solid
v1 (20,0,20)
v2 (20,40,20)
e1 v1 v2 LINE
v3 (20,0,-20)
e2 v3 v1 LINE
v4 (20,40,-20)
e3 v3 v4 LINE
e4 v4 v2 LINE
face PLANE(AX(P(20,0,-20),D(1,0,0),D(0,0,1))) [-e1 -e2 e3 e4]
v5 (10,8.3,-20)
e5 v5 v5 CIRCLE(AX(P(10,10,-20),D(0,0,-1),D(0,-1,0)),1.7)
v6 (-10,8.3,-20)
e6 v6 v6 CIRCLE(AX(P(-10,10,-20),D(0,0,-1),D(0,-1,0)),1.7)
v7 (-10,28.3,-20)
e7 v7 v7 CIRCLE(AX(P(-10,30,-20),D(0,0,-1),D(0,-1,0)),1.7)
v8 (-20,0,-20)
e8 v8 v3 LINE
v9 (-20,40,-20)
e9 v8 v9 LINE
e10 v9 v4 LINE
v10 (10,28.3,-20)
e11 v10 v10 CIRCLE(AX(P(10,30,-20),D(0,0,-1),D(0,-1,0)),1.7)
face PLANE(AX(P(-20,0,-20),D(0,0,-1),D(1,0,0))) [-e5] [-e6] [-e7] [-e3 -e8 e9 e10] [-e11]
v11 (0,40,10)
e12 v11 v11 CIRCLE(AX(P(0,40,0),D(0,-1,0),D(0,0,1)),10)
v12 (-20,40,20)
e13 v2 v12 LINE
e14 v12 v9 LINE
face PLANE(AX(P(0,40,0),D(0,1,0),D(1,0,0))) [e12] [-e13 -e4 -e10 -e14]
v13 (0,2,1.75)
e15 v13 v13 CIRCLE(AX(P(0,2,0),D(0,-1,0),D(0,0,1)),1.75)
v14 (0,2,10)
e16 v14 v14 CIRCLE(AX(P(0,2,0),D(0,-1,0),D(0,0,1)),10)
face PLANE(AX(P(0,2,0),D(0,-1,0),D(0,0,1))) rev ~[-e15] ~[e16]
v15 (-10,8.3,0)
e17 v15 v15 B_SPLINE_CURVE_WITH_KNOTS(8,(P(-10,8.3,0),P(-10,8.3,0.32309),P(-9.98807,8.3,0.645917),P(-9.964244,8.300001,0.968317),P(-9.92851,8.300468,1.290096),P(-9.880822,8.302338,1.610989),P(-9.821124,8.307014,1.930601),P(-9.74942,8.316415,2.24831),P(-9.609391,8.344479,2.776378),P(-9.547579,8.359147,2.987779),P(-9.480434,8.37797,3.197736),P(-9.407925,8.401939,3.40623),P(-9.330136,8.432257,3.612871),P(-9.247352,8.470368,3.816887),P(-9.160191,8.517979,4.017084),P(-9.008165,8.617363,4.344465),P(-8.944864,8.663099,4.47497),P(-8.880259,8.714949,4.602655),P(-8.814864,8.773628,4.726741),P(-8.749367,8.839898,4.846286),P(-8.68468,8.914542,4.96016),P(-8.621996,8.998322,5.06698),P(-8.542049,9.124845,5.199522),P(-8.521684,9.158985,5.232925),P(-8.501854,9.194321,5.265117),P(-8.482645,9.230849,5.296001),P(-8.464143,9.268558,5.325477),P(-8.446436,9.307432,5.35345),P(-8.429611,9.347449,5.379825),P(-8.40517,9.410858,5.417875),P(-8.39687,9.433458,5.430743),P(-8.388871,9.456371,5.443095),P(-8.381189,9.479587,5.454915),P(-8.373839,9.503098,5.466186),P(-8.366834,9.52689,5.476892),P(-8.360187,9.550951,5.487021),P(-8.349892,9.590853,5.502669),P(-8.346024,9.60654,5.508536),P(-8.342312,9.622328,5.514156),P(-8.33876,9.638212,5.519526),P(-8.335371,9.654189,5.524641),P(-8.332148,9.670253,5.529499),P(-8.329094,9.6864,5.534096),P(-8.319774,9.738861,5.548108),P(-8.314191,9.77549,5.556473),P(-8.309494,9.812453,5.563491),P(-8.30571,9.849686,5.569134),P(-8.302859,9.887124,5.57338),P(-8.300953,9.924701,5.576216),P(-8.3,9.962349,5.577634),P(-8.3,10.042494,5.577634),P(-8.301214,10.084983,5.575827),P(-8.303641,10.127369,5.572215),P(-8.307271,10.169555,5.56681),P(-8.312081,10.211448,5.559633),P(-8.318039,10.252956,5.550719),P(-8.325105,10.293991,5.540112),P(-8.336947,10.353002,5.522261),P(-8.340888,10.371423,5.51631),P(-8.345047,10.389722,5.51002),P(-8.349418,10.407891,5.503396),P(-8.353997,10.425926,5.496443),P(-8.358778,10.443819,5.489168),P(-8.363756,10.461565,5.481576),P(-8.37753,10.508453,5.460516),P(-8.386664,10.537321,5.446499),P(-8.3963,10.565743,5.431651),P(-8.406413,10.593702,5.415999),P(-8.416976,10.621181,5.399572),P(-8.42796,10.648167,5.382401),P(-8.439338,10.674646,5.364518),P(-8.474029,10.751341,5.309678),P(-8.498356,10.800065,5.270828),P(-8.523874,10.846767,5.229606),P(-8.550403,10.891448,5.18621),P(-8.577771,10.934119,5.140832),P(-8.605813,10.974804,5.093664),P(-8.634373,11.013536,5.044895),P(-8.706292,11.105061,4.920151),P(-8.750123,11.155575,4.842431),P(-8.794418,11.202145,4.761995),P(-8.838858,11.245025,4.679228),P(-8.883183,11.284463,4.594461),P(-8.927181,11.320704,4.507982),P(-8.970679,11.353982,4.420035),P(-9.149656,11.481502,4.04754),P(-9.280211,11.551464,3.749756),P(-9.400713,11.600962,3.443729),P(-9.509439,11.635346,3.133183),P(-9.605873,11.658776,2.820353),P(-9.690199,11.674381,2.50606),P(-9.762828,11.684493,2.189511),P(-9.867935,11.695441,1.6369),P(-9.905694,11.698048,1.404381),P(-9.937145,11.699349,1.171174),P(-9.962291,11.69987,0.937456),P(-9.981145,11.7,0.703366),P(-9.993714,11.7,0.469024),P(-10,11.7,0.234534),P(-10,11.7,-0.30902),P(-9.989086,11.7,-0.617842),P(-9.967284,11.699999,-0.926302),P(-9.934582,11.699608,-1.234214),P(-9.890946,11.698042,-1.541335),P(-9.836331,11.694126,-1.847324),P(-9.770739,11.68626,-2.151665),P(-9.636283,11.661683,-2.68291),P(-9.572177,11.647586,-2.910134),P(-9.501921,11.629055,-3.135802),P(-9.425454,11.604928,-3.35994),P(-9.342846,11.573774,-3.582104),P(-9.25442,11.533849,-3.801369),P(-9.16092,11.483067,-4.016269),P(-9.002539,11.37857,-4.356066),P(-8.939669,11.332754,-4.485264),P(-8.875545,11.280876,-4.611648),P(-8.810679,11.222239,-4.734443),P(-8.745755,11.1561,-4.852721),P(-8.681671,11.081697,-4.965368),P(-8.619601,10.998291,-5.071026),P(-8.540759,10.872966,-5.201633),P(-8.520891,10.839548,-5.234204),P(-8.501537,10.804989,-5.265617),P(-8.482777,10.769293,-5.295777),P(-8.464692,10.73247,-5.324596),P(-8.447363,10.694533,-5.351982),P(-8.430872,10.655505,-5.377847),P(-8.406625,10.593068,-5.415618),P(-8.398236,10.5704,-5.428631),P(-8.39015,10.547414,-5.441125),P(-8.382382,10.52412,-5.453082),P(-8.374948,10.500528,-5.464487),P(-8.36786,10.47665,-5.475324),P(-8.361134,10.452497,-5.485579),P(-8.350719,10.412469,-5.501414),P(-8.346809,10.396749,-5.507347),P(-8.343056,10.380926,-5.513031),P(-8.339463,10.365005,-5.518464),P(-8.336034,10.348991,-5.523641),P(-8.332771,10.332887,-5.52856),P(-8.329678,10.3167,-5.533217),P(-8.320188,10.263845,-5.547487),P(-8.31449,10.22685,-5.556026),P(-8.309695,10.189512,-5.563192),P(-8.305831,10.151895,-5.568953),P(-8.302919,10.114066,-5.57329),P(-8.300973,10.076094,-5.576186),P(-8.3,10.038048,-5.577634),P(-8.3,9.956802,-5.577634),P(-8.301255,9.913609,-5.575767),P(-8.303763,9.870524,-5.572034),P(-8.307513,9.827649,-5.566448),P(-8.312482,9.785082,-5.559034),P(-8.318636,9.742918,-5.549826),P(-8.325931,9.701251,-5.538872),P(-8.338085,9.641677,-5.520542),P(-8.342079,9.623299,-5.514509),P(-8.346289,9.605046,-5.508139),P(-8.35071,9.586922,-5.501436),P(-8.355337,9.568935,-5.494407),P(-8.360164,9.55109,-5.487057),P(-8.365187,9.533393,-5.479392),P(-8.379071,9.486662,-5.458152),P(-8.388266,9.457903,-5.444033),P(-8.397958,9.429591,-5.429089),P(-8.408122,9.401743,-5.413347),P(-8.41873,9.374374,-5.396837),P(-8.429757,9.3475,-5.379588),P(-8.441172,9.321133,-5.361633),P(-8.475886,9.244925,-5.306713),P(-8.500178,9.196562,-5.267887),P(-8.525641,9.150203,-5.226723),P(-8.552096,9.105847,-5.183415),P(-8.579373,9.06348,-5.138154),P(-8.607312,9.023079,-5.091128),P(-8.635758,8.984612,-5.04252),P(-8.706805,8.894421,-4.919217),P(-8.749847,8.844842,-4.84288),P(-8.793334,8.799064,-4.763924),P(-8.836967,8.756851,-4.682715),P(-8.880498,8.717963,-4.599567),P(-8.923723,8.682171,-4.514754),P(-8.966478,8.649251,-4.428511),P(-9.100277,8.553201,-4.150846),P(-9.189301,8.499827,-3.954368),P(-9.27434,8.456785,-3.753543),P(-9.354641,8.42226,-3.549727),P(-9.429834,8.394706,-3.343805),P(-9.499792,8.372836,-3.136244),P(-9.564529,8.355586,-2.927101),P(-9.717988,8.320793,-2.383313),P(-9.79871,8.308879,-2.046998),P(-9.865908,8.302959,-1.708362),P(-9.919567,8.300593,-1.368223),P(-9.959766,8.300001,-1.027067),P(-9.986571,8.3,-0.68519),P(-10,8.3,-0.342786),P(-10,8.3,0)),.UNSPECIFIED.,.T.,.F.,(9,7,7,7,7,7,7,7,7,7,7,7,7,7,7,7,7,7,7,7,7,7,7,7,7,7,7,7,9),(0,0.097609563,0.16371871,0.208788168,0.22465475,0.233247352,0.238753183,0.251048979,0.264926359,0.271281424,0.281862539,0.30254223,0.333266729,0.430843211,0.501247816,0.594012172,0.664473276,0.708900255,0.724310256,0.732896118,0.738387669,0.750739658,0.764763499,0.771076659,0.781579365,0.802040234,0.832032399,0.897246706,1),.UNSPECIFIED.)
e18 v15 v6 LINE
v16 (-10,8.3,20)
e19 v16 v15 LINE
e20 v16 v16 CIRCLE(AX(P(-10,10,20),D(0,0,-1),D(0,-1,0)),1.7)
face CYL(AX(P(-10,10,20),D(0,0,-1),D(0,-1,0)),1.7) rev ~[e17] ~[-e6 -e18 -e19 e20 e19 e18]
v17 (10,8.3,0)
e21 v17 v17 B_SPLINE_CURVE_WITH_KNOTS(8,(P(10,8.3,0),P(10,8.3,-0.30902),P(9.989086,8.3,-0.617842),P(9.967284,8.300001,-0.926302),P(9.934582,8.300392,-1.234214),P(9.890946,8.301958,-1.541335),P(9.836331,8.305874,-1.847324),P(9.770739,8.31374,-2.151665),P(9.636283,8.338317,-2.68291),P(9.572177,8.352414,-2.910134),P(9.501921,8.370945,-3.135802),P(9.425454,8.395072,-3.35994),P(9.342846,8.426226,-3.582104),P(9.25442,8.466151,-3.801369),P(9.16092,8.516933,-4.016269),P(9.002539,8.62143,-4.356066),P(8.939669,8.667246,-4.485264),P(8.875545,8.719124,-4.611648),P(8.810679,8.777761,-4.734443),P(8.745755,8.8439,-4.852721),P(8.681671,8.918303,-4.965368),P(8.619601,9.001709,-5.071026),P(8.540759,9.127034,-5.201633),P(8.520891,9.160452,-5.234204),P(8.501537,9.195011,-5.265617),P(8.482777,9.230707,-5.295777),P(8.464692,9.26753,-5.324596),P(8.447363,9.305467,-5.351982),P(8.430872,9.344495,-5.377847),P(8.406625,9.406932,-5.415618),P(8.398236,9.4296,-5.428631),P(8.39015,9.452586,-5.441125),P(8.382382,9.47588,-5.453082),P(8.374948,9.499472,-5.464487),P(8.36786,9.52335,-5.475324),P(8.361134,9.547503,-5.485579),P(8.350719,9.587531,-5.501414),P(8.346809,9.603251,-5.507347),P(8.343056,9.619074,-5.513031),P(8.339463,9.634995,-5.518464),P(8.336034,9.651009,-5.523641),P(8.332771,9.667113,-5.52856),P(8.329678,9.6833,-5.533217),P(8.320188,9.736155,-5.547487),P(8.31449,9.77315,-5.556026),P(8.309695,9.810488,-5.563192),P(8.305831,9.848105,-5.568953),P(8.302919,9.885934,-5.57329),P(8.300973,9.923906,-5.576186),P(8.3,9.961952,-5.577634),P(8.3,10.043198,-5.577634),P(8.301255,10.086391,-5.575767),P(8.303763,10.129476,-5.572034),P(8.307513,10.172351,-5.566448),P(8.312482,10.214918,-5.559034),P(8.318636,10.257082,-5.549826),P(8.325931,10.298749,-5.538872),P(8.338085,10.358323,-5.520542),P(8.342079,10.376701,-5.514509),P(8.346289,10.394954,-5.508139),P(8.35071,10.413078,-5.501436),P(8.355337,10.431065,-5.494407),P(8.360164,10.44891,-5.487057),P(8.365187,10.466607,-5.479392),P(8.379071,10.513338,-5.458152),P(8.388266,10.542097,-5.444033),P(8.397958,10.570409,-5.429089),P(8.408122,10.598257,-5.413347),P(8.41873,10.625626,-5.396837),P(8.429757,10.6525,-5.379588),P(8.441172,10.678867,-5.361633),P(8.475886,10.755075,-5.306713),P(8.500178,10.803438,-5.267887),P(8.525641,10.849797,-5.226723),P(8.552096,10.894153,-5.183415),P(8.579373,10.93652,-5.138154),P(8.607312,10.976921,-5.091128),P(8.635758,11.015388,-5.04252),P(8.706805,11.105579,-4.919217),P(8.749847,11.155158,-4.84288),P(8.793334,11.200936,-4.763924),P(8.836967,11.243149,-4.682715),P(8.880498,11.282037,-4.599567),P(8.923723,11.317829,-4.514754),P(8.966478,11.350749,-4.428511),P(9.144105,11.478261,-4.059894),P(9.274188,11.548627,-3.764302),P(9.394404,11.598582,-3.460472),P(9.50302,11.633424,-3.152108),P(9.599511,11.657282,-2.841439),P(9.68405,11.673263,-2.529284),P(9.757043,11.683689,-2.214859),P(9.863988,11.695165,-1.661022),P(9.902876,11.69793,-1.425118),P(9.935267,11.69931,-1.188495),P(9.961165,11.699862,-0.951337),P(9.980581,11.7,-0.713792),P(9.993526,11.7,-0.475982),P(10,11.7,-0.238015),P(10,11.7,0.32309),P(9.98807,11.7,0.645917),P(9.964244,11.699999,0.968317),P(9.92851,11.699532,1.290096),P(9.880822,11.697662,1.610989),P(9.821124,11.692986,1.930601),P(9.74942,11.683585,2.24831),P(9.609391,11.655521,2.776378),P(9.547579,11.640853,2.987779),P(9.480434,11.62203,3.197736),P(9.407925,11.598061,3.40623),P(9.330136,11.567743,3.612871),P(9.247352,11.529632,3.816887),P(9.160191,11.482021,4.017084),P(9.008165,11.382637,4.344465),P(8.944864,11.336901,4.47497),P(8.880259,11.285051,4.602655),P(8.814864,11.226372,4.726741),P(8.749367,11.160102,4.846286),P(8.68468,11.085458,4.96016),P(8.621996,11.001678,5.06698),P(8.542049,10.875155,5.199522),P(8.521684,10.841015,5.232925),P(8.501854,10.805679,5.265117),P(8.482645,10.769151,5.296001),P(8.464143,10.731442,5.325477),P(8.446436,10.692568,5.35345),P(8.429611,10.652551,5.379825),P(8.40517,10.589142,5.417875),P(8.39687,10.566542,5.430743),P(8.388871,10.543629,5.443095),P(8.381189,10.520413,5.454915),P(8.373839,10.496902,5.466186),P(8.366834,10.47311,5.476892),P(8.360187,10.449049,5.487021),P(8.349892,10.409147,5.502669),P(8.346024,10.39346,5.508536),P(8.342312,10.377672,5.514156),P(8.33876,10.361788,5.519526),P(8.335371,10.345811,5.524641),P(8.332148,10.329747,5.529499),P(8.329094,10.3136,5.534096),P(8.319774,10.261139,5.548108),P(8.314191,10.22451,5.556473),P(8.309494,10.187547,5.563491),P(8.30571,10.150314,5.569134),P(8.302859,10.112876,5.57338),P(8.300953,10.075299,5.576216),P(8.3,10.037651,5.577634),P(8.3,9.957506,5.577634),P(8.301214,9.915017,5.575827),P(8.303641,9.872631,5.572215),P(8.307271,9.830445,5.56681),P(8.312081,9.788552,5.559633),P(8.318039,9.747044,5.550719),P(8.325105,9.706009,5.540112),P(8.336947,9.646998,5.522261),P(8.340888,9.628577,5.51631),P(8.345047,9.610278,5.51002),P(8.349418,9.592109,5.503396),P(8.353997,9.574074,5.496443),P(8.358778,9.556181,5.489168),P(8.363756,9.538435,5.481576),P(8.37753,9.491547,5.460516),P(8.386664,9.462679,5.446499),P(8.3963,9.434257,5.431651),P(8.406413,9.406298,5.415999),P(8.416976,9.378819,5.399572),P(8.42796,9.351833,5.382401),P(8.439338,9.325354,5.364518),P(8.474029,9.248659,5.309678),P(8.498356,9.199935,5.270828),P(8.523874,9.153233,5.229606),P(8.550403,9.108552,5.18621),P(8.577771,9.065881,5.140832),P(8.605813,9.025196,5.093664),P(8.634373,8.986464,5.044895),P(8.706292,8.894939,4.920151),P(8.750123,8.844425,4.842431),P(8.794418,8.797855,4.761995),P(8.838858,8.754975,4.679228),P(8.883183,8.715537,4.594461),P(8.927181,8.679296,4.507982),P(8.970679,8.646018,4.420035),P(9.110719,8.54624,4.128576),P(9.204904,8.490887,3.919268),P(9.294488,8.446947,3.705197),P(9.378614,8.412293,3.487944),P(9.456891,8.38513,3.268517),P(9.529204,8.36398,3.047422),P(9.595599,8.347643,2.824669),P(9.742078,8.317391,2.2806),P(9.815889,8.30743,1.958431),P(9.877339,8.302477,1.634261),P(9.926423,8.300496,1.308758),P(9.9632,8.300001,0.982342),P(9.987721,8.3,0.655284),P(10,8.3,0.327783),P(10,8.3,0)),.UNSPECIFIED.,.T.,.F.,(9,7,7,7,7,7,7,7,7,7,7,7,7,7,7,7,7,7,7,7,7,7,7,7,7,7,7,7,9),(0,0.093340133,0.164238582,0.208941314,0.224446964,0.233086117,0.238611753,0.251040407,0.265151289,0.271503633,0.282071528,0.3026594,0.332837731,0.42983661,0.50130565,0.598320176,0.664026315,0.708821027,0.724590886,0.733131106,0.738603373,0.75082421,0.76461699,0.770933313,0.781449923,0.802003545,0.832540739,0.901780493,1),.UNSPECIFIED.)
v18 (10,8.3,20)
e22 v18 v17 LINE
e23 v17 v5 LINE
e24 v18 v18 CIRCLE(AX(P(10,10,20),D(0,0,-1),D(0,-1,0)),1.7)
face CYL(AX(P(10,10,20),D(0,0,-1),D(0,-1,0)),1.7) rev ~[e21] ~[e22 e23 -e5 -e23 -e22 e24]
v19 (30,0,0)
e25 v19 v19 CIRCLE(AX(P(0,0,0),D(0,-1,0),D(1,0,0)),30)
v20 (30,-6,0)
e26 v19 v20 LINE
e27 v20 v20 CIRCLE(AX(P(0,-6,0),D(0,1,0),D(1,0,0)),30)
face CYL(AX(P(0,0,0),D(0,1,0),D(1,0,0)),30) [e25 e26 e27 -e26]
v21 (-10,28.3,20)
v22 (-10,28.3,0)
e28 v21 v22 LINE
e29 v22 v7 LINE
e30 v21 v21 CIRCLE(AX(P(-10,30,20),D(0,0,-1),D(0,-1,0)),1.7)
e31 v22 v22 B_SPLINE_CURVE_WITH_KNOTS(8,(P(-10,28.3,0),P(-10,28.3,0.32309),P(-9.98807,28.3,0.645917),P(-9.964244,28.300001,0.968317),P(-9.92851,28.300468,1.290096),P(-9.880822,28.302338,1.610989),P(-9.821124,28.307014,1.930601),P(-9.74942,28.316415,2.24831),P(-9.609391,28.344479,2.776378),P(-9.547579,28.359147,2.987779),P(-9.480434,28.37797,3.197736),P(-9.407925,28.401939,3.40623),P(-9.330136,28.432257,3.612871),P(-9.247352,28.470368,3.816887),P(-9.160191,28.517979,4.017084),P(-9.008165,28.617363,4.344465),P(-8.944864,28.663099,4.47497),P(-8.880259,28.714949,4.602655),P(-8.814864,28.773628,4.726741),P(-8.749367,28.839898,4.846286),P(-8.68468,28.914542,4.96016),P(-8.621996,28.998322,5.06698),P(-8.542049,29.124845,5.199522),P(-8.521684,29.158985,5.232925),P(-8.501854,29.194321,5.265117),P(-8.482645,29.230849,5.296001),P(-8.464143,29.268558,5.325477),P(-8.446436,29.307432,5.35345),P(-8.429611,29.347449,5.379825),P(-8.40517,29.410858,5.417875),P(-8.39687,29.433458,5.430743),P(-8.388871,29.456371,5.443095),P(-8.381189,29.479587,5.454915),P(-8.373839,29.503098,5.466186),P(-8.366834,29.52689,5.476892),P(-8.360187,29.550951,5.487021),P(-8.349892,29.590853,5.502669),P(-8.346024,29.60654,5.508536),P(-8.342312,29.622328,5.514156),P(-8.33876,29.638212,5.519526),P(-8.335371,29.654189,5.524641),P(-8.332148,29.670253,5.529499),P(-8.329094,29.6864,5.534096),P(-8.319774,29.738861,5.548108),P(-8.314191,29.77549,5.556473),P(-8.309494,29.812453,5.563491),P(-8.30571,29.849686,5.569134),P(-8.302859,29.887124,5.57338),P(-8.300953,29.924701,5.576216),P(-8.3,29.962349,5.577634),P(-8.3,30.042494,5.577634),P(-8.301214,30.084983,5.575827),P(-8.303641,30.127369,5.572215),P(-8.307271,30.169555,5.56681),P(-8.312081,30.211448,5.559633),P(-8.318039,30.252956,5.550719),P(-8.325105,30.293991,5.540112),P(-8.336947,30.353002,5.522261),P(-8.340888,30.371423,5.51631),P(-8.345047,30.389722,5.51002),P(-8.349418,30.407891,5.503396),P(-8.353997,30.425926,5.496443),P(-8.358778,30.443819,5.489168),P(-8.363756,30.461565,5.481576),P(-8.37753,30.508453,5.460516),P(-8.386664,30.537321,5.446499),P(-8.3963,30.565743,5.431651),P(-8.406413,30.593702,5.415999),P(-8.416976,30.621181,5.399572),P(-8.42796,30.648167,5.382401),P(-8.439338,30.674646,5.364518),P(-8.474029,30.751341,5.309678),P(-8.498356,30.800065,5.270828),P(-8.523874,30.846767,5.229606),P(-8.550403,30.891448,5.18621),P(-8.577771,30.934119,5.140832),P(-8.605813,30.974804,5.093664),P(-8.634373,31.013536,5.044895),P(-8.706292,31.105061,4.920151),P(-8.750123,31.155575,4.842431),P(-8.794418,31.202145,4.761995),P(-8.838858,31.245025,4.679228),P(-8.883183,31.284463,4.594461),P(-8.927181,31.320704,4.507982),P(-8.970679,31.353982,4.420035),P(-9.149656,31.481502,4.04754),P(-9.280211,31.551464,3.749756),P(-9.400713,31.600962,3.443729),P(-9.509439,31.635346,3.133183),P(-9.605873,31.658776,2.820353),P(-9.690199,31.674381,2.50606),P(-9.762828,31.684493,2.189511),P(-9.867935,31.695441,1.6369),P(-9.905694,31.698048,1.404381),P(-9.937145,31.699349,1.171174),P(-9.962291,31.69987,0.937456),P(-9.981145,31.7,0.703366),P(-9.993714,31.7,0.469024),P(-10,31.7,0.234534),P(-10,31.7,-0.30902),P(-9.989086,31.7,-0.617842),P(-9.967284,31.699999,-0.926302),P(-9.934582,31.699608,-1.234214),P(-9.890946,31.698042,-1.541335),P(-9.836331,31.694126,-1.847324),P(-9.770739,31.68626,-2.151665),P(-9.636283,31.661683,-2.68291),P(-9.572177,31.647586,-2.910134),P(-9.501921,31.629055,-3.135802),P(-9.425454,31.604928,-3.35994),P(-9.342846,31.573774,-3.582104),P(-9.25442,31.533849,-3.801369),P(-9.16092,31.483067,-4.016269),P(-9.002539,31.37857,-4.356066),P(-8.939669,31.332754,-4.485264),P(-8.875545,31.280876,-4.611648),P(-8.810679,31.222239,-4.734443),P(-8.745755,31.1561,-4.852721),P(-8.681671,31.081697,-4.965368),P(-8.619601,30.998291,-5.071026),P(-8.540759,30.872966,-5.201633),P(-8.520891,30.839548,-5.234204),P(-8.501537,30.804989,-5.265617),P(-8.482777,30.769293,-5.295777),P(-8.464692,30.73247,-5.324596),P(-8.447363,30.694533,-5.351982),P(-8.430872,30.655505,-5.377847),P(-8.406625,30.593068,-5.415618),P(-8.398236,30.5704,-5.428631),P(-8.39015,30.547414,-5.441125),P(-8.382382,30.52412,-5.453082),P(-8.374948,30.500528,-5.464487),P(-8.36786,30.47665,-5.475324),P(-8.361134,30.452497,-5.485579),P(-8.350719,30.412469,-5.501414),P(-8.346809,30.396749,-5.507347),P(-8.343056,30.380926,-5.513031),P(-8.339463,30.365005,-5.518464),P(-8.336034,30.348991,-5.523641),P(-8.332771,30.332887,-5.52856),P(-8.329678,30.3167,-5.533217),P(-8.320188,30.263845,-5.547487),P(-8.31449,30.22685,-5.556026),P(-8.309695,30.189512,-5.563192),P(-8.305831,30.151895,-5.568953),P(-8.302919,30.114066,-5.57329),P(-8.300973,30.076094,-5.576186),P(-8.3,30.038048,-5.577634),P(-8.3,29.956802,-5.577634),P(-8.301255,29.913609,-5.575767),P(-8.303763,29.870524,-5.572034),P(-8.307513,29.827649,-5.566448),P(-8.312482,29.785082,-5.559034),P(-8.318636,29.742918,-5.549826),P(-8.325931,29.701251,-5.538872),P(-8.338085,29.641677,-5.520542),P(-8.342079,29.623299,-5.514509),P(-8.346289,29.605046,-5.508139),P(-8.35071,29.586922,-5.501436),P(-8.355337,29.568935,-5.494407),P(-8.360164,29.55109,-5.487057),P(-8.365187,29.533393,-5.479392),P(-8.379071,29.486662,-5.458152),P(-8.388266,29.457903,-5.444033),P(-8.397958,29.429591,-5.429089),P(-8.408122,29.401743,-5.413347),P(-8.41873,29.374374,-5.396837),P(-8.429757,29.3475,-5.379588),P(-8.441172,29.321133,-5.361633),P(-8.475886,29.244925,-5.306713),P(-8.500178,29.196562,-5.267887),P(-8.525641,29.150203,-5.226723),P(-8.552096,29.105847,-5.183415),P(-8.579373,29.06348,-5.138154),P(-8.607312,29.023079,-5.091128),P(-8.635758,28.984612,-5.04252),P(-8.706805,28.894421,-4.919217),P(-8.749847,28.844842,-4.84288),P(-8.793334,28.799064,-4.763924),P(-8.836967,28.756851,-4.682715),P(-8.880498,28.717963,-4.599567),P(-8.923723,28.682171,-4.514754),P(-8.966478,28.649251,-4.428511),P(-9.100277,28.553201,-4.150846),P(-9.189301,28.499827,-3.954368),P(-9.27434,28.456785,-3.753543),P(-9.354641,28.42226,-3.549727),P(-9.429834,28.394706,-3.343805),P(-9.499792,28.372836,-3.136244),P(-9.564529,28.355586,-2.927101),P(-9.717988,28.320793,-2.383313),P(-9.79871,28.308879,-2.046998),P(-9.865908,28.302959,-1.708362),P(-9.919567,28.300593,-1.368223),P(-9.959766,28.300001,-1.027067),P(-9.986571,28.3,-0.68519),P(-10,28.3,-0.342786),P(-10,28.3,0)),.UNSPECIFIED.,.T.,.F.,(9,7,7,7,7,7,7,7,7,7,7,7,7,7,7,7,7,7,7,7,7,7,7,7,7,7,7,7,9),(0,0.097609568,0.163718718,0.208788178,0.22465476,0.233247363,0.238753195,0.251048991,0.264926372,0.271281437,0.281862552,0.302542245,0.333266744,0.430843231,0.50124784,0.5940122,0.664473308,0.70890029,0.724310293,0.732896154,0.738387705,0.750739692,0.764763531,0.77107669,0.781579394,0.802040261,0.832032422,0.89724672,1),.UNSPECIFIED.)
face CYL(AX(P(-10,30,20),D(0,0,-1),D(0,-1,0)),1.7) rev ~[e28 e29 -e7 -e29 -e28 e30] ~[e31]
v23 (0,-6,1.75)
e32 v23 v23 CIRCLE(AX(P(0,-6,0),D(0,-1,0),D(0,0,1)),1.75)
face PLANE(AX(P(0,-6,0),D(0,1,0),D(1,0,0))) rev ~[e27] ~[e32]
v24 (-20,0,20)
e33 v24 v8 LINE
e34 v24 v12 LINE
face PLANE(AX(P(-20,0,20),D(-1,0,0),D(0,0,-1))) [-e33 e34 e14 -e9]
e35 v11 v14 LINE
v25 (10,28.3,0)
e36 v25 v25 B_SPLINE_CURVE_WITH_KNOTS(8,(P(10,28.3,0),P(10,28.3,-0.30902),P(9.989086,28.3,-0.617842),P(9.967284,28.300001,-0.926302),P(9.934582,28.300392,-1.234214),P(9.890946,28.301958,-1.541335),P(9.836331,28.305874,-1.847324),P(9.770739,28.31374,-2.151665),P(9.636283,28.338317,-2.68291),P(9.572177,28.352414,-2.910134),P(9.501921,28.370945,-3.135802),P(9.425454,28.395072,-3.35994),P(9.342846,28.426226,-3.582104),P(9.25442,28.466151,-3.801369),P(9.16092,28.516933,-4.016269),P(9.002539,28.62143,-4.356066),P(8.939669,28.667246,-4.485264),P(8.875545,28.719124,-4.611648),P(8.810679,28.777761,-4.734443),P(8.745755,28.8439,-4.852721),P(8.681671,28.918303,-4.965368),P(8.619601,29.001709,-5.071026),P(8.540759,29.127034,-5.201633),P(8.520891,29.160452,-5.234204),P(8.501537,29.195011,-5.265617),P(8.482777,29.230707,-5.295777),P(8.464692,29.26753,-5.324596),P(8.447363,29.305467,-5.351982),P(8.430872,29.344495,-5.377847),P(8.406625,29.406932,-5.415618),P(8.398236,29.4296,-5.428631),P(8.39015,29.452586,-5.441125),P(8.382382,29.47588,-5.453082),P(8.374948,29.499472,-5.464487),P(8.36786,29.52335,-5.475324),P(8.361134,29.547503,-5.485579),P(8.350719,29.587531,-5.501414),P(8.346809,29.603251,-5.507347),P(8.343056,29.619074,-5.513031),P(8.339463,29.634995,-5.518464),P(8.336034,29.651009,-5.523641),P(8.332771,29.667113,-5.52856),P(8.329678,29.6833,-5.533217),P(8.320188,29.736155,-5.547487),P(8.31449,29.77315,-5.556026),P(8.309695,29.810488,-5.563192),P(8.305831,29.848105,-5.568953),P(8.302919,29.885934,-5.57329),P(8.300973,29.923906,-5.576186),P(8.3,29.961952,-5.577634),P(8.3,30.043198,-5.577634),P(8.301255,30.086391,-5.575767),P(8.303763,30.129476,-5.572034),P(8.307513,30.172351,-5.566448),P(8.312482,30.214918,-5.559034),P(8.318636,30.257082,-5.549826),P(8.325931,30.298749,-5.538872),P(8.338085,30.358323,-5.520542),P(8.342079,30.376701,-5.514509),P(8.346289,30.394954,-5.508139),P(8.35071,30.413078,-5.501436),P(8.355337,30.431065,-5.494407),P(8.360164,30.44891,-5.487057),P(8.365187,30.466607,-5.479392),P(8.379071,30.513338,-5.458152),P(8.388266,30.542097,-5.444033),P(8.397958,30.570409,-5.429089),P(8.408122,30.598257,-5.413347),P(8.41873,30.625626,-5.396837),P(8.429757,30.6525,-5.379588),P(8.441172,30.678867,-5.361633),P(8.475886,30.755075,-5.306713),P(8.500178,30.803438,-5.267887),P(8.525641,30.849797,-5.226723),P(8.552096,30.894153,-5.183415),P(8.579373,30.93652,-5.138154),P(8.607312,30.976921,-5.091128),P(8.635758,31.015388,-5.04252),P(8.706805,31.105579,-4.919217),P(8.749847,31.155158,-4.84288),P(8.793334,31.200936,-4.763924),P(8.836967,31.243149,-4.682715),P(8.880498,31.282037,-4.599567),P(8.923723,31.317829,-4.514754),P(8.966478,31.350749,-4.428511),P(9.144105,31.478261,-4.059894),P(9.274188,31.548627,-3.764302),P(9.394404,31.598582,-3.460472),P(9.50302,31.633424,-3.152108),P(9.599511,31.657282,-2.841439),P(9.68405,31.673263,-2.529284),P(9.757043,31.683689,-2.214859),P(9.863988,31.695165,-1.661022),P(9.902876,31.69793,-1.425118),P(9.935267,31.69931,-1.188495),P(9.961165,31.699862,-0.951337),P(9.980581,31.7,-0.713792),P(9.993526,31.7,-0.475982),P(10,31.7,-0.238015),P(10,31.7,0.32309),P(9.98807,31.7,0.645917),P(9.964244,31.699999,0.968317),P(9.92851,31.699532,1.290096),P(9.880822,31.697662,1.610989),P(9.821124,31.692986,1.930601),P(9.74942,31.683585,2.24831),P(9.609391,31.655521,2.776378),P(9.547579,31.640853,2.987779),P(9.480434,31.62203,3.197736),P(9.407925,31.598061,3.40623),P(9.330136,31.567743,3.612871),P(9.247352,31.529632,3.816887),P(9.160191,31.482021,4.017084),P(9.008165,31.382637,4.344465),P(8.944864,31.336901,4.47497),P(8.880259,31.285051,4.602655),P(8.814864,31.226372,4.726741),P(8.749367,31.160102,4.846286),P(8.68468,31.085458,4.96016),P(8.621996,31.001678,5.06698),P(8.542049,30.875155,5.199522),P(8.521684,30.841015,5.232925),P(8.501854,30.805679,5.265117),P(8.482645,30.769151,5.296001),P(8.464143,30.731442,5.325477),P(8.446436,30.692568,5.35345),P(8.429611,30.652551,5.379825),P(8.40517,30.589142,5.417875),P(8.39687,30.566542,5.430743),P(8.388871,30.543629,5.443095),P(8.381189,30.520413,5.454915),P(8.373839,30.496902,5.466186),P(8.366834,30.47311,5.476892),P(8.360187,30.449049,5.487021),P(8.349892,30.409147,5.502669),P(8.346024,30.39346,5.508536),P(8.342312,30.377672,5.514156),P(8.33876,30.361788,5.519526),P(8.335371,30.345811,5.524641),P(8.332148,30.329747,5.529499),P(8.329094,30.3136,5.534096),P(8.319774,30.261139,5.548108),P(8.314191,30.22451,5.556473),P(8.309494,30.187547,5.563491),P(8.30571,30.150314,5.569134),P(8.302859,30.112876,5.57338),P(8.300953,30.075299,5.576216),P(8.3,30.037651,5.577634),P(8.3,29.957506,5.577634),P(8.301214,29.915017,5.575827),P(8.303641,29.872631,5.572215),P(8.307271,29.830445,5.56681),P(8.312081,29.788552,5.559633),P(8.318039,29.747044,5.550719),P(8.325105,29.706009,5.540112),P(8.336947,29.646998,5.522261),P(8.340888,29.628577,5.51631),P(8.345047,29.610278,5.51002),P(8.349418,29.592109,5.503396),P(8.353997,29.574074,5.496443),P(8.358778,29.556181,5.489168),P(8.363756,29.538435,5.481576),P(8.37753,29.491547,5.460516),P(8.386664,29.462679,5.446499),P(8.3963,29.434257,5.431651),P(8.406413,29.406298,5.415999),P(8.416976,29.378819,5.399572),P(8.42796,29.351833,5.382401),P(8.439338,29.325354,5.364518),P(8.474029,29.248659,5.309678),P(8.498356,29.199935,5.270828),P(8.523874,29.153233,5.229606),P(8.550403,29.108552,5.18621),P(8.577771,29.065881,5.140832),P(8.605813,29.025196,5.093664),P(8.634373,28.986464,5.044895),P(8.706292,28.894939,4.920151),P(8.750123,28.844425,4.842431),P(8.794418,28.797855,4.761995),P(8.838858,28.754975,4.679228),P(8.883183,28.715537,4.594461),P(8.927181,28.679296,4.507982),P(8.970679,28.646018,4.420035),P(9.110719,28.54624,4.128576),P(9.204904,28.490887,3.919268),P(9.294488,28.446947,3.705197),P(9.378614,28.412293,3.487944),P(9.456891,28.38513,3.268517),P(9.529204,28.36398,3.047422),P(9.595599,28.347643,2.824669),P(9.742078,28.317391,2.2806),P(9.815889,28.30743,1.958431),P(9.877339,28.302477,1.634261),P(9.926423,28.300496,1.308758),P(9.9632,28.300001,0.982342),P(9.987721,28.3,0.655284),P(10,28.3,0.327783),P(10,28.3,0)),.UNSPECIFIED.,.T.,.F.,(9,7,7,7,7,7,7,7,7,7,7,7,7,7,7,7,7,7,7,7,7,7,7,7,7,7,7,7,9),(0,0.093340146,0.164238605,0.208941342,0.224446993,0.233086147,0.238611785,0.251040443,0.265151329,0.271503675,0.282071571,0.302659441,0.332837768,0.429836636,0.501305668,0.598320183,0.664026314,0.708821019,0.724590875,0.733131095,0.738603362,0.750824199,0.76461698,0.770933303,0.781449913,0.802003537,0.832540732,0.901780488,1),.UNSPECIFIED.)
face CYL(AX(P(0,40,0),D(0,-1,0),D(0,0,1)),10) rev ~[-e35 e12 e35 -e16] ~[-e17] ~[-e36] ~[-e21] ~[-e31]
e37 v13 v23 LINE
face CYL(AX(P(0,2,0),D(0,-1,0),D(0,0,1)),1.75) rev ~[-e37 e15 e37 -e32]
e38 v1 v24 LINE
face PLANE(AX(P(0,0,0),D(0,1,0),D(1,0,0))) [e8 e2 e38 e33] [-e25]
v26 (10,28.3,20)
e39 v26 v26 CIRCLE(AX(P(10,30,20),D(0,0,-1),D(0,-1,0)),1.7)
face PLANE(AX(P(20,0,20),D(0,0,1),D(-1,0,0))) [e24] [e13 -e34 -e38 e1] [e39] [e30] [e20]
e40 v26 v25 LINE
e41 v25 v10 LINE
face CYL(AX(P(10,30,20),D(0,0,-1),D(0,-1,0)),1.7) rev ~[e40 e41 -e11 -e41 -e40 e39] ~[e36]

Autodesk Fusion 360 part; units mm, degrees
sketch "Sketch1" plane through (0, 0, 0) normal (0, 1, 0) x (1, 0, 0)
  line L0 (47.5, -22.5) -> (-47.5, -22.5)
  line L1 (-47.5, -22.5) -> (-47.5, 22.5)
  line L2 (-47.5, 22.5) -> (47.5, 22.5)
  line L3 (47.5, 22.5) -> (47.5, -22.5)
  line L4 (47.5, -22.5) -> (-47.5, 22.5) construction
  line L5 (-47.5, -22.5) -> (47.5, 22.5) construction
  line L6 (20, -20) -> (-20, -20)
  line L7 (-20, -20) -> (-20, 20)
  line L8 (-20, 20) -> (20, 20)
  line L9 (20, 20) -> (20, -20)
  line L10 (20, -20) -> (-20, 20) construction
  line L11 (-20, -20) -> (20, 20) construction
  circle A0 centre (0, 0) radius 30
  point P0 (-41, 0)
  point P1 (41, 0)
  dimension "d1" = 95
  dimension "d2" = 45
  dimension "d3" = 82
  dimension "d4" = 41
  dimension "d11" = 40
  dimension "d12" = 40
  dimension "d26" = 60
extrude "Extrude1" add sketch "Sketch1" against normal blind 6 contours L0 A0 | L0 L2 A0 | L2 A0 | L6 L7 L8 L9
hole "Hole1" at (-41, 0, 0) at (41, 0, 0) direction (0, -1, 0) diameter 3.4 depth 35 tip angle 118 counterbore diameter 6.5 counterbore depth 3
extrude "Extrude2" add sketch "Sketch1" along normal blind 40 contours L6 L7 L8 L9
sketch "Sketch2" plane through (0, 0, 20) normal (0, 0, 1) x (1, 0, 0)
  line L0 (-20, 0) -> (20, 0)
  line L1 (20, 0) -> (20, 40)
  line L2 (20, 40) -> (-20, 40)
  line L3 (-20, 40) -> (-20, 0)
  point P0 (-10, 30)
  point P1 (10, 30)
  point P2 (10, 10)
  point P3 (-10, 10)
hole "Hole2" at (10, 30, 20) at (-10, 30, 20) at (-10, 10, 20) at (10, 10, 20) direction (0, 0, -1) diameter 3.4 depth 44 tip angle 118
sketch "Sketch3" plane through (0, 40, 0) normal (0, 1, 0) x (-1, 0, 0)
  line L0 (-20, -20) -> (20, -20)
  line L1 (20, -20) -> (20, 20)
  line L2 (20, 20) -> (-20, 20)
  line L3 (-20, 20) -> (-20, -20)
hole "Hole3" at (0, 40, 0) direction (0, -1, 0) diameter 3.5 depth 50 tip angle 118 counterbore diameter 20 counterbore depth 38
equation "d4 = d3 / 2"
